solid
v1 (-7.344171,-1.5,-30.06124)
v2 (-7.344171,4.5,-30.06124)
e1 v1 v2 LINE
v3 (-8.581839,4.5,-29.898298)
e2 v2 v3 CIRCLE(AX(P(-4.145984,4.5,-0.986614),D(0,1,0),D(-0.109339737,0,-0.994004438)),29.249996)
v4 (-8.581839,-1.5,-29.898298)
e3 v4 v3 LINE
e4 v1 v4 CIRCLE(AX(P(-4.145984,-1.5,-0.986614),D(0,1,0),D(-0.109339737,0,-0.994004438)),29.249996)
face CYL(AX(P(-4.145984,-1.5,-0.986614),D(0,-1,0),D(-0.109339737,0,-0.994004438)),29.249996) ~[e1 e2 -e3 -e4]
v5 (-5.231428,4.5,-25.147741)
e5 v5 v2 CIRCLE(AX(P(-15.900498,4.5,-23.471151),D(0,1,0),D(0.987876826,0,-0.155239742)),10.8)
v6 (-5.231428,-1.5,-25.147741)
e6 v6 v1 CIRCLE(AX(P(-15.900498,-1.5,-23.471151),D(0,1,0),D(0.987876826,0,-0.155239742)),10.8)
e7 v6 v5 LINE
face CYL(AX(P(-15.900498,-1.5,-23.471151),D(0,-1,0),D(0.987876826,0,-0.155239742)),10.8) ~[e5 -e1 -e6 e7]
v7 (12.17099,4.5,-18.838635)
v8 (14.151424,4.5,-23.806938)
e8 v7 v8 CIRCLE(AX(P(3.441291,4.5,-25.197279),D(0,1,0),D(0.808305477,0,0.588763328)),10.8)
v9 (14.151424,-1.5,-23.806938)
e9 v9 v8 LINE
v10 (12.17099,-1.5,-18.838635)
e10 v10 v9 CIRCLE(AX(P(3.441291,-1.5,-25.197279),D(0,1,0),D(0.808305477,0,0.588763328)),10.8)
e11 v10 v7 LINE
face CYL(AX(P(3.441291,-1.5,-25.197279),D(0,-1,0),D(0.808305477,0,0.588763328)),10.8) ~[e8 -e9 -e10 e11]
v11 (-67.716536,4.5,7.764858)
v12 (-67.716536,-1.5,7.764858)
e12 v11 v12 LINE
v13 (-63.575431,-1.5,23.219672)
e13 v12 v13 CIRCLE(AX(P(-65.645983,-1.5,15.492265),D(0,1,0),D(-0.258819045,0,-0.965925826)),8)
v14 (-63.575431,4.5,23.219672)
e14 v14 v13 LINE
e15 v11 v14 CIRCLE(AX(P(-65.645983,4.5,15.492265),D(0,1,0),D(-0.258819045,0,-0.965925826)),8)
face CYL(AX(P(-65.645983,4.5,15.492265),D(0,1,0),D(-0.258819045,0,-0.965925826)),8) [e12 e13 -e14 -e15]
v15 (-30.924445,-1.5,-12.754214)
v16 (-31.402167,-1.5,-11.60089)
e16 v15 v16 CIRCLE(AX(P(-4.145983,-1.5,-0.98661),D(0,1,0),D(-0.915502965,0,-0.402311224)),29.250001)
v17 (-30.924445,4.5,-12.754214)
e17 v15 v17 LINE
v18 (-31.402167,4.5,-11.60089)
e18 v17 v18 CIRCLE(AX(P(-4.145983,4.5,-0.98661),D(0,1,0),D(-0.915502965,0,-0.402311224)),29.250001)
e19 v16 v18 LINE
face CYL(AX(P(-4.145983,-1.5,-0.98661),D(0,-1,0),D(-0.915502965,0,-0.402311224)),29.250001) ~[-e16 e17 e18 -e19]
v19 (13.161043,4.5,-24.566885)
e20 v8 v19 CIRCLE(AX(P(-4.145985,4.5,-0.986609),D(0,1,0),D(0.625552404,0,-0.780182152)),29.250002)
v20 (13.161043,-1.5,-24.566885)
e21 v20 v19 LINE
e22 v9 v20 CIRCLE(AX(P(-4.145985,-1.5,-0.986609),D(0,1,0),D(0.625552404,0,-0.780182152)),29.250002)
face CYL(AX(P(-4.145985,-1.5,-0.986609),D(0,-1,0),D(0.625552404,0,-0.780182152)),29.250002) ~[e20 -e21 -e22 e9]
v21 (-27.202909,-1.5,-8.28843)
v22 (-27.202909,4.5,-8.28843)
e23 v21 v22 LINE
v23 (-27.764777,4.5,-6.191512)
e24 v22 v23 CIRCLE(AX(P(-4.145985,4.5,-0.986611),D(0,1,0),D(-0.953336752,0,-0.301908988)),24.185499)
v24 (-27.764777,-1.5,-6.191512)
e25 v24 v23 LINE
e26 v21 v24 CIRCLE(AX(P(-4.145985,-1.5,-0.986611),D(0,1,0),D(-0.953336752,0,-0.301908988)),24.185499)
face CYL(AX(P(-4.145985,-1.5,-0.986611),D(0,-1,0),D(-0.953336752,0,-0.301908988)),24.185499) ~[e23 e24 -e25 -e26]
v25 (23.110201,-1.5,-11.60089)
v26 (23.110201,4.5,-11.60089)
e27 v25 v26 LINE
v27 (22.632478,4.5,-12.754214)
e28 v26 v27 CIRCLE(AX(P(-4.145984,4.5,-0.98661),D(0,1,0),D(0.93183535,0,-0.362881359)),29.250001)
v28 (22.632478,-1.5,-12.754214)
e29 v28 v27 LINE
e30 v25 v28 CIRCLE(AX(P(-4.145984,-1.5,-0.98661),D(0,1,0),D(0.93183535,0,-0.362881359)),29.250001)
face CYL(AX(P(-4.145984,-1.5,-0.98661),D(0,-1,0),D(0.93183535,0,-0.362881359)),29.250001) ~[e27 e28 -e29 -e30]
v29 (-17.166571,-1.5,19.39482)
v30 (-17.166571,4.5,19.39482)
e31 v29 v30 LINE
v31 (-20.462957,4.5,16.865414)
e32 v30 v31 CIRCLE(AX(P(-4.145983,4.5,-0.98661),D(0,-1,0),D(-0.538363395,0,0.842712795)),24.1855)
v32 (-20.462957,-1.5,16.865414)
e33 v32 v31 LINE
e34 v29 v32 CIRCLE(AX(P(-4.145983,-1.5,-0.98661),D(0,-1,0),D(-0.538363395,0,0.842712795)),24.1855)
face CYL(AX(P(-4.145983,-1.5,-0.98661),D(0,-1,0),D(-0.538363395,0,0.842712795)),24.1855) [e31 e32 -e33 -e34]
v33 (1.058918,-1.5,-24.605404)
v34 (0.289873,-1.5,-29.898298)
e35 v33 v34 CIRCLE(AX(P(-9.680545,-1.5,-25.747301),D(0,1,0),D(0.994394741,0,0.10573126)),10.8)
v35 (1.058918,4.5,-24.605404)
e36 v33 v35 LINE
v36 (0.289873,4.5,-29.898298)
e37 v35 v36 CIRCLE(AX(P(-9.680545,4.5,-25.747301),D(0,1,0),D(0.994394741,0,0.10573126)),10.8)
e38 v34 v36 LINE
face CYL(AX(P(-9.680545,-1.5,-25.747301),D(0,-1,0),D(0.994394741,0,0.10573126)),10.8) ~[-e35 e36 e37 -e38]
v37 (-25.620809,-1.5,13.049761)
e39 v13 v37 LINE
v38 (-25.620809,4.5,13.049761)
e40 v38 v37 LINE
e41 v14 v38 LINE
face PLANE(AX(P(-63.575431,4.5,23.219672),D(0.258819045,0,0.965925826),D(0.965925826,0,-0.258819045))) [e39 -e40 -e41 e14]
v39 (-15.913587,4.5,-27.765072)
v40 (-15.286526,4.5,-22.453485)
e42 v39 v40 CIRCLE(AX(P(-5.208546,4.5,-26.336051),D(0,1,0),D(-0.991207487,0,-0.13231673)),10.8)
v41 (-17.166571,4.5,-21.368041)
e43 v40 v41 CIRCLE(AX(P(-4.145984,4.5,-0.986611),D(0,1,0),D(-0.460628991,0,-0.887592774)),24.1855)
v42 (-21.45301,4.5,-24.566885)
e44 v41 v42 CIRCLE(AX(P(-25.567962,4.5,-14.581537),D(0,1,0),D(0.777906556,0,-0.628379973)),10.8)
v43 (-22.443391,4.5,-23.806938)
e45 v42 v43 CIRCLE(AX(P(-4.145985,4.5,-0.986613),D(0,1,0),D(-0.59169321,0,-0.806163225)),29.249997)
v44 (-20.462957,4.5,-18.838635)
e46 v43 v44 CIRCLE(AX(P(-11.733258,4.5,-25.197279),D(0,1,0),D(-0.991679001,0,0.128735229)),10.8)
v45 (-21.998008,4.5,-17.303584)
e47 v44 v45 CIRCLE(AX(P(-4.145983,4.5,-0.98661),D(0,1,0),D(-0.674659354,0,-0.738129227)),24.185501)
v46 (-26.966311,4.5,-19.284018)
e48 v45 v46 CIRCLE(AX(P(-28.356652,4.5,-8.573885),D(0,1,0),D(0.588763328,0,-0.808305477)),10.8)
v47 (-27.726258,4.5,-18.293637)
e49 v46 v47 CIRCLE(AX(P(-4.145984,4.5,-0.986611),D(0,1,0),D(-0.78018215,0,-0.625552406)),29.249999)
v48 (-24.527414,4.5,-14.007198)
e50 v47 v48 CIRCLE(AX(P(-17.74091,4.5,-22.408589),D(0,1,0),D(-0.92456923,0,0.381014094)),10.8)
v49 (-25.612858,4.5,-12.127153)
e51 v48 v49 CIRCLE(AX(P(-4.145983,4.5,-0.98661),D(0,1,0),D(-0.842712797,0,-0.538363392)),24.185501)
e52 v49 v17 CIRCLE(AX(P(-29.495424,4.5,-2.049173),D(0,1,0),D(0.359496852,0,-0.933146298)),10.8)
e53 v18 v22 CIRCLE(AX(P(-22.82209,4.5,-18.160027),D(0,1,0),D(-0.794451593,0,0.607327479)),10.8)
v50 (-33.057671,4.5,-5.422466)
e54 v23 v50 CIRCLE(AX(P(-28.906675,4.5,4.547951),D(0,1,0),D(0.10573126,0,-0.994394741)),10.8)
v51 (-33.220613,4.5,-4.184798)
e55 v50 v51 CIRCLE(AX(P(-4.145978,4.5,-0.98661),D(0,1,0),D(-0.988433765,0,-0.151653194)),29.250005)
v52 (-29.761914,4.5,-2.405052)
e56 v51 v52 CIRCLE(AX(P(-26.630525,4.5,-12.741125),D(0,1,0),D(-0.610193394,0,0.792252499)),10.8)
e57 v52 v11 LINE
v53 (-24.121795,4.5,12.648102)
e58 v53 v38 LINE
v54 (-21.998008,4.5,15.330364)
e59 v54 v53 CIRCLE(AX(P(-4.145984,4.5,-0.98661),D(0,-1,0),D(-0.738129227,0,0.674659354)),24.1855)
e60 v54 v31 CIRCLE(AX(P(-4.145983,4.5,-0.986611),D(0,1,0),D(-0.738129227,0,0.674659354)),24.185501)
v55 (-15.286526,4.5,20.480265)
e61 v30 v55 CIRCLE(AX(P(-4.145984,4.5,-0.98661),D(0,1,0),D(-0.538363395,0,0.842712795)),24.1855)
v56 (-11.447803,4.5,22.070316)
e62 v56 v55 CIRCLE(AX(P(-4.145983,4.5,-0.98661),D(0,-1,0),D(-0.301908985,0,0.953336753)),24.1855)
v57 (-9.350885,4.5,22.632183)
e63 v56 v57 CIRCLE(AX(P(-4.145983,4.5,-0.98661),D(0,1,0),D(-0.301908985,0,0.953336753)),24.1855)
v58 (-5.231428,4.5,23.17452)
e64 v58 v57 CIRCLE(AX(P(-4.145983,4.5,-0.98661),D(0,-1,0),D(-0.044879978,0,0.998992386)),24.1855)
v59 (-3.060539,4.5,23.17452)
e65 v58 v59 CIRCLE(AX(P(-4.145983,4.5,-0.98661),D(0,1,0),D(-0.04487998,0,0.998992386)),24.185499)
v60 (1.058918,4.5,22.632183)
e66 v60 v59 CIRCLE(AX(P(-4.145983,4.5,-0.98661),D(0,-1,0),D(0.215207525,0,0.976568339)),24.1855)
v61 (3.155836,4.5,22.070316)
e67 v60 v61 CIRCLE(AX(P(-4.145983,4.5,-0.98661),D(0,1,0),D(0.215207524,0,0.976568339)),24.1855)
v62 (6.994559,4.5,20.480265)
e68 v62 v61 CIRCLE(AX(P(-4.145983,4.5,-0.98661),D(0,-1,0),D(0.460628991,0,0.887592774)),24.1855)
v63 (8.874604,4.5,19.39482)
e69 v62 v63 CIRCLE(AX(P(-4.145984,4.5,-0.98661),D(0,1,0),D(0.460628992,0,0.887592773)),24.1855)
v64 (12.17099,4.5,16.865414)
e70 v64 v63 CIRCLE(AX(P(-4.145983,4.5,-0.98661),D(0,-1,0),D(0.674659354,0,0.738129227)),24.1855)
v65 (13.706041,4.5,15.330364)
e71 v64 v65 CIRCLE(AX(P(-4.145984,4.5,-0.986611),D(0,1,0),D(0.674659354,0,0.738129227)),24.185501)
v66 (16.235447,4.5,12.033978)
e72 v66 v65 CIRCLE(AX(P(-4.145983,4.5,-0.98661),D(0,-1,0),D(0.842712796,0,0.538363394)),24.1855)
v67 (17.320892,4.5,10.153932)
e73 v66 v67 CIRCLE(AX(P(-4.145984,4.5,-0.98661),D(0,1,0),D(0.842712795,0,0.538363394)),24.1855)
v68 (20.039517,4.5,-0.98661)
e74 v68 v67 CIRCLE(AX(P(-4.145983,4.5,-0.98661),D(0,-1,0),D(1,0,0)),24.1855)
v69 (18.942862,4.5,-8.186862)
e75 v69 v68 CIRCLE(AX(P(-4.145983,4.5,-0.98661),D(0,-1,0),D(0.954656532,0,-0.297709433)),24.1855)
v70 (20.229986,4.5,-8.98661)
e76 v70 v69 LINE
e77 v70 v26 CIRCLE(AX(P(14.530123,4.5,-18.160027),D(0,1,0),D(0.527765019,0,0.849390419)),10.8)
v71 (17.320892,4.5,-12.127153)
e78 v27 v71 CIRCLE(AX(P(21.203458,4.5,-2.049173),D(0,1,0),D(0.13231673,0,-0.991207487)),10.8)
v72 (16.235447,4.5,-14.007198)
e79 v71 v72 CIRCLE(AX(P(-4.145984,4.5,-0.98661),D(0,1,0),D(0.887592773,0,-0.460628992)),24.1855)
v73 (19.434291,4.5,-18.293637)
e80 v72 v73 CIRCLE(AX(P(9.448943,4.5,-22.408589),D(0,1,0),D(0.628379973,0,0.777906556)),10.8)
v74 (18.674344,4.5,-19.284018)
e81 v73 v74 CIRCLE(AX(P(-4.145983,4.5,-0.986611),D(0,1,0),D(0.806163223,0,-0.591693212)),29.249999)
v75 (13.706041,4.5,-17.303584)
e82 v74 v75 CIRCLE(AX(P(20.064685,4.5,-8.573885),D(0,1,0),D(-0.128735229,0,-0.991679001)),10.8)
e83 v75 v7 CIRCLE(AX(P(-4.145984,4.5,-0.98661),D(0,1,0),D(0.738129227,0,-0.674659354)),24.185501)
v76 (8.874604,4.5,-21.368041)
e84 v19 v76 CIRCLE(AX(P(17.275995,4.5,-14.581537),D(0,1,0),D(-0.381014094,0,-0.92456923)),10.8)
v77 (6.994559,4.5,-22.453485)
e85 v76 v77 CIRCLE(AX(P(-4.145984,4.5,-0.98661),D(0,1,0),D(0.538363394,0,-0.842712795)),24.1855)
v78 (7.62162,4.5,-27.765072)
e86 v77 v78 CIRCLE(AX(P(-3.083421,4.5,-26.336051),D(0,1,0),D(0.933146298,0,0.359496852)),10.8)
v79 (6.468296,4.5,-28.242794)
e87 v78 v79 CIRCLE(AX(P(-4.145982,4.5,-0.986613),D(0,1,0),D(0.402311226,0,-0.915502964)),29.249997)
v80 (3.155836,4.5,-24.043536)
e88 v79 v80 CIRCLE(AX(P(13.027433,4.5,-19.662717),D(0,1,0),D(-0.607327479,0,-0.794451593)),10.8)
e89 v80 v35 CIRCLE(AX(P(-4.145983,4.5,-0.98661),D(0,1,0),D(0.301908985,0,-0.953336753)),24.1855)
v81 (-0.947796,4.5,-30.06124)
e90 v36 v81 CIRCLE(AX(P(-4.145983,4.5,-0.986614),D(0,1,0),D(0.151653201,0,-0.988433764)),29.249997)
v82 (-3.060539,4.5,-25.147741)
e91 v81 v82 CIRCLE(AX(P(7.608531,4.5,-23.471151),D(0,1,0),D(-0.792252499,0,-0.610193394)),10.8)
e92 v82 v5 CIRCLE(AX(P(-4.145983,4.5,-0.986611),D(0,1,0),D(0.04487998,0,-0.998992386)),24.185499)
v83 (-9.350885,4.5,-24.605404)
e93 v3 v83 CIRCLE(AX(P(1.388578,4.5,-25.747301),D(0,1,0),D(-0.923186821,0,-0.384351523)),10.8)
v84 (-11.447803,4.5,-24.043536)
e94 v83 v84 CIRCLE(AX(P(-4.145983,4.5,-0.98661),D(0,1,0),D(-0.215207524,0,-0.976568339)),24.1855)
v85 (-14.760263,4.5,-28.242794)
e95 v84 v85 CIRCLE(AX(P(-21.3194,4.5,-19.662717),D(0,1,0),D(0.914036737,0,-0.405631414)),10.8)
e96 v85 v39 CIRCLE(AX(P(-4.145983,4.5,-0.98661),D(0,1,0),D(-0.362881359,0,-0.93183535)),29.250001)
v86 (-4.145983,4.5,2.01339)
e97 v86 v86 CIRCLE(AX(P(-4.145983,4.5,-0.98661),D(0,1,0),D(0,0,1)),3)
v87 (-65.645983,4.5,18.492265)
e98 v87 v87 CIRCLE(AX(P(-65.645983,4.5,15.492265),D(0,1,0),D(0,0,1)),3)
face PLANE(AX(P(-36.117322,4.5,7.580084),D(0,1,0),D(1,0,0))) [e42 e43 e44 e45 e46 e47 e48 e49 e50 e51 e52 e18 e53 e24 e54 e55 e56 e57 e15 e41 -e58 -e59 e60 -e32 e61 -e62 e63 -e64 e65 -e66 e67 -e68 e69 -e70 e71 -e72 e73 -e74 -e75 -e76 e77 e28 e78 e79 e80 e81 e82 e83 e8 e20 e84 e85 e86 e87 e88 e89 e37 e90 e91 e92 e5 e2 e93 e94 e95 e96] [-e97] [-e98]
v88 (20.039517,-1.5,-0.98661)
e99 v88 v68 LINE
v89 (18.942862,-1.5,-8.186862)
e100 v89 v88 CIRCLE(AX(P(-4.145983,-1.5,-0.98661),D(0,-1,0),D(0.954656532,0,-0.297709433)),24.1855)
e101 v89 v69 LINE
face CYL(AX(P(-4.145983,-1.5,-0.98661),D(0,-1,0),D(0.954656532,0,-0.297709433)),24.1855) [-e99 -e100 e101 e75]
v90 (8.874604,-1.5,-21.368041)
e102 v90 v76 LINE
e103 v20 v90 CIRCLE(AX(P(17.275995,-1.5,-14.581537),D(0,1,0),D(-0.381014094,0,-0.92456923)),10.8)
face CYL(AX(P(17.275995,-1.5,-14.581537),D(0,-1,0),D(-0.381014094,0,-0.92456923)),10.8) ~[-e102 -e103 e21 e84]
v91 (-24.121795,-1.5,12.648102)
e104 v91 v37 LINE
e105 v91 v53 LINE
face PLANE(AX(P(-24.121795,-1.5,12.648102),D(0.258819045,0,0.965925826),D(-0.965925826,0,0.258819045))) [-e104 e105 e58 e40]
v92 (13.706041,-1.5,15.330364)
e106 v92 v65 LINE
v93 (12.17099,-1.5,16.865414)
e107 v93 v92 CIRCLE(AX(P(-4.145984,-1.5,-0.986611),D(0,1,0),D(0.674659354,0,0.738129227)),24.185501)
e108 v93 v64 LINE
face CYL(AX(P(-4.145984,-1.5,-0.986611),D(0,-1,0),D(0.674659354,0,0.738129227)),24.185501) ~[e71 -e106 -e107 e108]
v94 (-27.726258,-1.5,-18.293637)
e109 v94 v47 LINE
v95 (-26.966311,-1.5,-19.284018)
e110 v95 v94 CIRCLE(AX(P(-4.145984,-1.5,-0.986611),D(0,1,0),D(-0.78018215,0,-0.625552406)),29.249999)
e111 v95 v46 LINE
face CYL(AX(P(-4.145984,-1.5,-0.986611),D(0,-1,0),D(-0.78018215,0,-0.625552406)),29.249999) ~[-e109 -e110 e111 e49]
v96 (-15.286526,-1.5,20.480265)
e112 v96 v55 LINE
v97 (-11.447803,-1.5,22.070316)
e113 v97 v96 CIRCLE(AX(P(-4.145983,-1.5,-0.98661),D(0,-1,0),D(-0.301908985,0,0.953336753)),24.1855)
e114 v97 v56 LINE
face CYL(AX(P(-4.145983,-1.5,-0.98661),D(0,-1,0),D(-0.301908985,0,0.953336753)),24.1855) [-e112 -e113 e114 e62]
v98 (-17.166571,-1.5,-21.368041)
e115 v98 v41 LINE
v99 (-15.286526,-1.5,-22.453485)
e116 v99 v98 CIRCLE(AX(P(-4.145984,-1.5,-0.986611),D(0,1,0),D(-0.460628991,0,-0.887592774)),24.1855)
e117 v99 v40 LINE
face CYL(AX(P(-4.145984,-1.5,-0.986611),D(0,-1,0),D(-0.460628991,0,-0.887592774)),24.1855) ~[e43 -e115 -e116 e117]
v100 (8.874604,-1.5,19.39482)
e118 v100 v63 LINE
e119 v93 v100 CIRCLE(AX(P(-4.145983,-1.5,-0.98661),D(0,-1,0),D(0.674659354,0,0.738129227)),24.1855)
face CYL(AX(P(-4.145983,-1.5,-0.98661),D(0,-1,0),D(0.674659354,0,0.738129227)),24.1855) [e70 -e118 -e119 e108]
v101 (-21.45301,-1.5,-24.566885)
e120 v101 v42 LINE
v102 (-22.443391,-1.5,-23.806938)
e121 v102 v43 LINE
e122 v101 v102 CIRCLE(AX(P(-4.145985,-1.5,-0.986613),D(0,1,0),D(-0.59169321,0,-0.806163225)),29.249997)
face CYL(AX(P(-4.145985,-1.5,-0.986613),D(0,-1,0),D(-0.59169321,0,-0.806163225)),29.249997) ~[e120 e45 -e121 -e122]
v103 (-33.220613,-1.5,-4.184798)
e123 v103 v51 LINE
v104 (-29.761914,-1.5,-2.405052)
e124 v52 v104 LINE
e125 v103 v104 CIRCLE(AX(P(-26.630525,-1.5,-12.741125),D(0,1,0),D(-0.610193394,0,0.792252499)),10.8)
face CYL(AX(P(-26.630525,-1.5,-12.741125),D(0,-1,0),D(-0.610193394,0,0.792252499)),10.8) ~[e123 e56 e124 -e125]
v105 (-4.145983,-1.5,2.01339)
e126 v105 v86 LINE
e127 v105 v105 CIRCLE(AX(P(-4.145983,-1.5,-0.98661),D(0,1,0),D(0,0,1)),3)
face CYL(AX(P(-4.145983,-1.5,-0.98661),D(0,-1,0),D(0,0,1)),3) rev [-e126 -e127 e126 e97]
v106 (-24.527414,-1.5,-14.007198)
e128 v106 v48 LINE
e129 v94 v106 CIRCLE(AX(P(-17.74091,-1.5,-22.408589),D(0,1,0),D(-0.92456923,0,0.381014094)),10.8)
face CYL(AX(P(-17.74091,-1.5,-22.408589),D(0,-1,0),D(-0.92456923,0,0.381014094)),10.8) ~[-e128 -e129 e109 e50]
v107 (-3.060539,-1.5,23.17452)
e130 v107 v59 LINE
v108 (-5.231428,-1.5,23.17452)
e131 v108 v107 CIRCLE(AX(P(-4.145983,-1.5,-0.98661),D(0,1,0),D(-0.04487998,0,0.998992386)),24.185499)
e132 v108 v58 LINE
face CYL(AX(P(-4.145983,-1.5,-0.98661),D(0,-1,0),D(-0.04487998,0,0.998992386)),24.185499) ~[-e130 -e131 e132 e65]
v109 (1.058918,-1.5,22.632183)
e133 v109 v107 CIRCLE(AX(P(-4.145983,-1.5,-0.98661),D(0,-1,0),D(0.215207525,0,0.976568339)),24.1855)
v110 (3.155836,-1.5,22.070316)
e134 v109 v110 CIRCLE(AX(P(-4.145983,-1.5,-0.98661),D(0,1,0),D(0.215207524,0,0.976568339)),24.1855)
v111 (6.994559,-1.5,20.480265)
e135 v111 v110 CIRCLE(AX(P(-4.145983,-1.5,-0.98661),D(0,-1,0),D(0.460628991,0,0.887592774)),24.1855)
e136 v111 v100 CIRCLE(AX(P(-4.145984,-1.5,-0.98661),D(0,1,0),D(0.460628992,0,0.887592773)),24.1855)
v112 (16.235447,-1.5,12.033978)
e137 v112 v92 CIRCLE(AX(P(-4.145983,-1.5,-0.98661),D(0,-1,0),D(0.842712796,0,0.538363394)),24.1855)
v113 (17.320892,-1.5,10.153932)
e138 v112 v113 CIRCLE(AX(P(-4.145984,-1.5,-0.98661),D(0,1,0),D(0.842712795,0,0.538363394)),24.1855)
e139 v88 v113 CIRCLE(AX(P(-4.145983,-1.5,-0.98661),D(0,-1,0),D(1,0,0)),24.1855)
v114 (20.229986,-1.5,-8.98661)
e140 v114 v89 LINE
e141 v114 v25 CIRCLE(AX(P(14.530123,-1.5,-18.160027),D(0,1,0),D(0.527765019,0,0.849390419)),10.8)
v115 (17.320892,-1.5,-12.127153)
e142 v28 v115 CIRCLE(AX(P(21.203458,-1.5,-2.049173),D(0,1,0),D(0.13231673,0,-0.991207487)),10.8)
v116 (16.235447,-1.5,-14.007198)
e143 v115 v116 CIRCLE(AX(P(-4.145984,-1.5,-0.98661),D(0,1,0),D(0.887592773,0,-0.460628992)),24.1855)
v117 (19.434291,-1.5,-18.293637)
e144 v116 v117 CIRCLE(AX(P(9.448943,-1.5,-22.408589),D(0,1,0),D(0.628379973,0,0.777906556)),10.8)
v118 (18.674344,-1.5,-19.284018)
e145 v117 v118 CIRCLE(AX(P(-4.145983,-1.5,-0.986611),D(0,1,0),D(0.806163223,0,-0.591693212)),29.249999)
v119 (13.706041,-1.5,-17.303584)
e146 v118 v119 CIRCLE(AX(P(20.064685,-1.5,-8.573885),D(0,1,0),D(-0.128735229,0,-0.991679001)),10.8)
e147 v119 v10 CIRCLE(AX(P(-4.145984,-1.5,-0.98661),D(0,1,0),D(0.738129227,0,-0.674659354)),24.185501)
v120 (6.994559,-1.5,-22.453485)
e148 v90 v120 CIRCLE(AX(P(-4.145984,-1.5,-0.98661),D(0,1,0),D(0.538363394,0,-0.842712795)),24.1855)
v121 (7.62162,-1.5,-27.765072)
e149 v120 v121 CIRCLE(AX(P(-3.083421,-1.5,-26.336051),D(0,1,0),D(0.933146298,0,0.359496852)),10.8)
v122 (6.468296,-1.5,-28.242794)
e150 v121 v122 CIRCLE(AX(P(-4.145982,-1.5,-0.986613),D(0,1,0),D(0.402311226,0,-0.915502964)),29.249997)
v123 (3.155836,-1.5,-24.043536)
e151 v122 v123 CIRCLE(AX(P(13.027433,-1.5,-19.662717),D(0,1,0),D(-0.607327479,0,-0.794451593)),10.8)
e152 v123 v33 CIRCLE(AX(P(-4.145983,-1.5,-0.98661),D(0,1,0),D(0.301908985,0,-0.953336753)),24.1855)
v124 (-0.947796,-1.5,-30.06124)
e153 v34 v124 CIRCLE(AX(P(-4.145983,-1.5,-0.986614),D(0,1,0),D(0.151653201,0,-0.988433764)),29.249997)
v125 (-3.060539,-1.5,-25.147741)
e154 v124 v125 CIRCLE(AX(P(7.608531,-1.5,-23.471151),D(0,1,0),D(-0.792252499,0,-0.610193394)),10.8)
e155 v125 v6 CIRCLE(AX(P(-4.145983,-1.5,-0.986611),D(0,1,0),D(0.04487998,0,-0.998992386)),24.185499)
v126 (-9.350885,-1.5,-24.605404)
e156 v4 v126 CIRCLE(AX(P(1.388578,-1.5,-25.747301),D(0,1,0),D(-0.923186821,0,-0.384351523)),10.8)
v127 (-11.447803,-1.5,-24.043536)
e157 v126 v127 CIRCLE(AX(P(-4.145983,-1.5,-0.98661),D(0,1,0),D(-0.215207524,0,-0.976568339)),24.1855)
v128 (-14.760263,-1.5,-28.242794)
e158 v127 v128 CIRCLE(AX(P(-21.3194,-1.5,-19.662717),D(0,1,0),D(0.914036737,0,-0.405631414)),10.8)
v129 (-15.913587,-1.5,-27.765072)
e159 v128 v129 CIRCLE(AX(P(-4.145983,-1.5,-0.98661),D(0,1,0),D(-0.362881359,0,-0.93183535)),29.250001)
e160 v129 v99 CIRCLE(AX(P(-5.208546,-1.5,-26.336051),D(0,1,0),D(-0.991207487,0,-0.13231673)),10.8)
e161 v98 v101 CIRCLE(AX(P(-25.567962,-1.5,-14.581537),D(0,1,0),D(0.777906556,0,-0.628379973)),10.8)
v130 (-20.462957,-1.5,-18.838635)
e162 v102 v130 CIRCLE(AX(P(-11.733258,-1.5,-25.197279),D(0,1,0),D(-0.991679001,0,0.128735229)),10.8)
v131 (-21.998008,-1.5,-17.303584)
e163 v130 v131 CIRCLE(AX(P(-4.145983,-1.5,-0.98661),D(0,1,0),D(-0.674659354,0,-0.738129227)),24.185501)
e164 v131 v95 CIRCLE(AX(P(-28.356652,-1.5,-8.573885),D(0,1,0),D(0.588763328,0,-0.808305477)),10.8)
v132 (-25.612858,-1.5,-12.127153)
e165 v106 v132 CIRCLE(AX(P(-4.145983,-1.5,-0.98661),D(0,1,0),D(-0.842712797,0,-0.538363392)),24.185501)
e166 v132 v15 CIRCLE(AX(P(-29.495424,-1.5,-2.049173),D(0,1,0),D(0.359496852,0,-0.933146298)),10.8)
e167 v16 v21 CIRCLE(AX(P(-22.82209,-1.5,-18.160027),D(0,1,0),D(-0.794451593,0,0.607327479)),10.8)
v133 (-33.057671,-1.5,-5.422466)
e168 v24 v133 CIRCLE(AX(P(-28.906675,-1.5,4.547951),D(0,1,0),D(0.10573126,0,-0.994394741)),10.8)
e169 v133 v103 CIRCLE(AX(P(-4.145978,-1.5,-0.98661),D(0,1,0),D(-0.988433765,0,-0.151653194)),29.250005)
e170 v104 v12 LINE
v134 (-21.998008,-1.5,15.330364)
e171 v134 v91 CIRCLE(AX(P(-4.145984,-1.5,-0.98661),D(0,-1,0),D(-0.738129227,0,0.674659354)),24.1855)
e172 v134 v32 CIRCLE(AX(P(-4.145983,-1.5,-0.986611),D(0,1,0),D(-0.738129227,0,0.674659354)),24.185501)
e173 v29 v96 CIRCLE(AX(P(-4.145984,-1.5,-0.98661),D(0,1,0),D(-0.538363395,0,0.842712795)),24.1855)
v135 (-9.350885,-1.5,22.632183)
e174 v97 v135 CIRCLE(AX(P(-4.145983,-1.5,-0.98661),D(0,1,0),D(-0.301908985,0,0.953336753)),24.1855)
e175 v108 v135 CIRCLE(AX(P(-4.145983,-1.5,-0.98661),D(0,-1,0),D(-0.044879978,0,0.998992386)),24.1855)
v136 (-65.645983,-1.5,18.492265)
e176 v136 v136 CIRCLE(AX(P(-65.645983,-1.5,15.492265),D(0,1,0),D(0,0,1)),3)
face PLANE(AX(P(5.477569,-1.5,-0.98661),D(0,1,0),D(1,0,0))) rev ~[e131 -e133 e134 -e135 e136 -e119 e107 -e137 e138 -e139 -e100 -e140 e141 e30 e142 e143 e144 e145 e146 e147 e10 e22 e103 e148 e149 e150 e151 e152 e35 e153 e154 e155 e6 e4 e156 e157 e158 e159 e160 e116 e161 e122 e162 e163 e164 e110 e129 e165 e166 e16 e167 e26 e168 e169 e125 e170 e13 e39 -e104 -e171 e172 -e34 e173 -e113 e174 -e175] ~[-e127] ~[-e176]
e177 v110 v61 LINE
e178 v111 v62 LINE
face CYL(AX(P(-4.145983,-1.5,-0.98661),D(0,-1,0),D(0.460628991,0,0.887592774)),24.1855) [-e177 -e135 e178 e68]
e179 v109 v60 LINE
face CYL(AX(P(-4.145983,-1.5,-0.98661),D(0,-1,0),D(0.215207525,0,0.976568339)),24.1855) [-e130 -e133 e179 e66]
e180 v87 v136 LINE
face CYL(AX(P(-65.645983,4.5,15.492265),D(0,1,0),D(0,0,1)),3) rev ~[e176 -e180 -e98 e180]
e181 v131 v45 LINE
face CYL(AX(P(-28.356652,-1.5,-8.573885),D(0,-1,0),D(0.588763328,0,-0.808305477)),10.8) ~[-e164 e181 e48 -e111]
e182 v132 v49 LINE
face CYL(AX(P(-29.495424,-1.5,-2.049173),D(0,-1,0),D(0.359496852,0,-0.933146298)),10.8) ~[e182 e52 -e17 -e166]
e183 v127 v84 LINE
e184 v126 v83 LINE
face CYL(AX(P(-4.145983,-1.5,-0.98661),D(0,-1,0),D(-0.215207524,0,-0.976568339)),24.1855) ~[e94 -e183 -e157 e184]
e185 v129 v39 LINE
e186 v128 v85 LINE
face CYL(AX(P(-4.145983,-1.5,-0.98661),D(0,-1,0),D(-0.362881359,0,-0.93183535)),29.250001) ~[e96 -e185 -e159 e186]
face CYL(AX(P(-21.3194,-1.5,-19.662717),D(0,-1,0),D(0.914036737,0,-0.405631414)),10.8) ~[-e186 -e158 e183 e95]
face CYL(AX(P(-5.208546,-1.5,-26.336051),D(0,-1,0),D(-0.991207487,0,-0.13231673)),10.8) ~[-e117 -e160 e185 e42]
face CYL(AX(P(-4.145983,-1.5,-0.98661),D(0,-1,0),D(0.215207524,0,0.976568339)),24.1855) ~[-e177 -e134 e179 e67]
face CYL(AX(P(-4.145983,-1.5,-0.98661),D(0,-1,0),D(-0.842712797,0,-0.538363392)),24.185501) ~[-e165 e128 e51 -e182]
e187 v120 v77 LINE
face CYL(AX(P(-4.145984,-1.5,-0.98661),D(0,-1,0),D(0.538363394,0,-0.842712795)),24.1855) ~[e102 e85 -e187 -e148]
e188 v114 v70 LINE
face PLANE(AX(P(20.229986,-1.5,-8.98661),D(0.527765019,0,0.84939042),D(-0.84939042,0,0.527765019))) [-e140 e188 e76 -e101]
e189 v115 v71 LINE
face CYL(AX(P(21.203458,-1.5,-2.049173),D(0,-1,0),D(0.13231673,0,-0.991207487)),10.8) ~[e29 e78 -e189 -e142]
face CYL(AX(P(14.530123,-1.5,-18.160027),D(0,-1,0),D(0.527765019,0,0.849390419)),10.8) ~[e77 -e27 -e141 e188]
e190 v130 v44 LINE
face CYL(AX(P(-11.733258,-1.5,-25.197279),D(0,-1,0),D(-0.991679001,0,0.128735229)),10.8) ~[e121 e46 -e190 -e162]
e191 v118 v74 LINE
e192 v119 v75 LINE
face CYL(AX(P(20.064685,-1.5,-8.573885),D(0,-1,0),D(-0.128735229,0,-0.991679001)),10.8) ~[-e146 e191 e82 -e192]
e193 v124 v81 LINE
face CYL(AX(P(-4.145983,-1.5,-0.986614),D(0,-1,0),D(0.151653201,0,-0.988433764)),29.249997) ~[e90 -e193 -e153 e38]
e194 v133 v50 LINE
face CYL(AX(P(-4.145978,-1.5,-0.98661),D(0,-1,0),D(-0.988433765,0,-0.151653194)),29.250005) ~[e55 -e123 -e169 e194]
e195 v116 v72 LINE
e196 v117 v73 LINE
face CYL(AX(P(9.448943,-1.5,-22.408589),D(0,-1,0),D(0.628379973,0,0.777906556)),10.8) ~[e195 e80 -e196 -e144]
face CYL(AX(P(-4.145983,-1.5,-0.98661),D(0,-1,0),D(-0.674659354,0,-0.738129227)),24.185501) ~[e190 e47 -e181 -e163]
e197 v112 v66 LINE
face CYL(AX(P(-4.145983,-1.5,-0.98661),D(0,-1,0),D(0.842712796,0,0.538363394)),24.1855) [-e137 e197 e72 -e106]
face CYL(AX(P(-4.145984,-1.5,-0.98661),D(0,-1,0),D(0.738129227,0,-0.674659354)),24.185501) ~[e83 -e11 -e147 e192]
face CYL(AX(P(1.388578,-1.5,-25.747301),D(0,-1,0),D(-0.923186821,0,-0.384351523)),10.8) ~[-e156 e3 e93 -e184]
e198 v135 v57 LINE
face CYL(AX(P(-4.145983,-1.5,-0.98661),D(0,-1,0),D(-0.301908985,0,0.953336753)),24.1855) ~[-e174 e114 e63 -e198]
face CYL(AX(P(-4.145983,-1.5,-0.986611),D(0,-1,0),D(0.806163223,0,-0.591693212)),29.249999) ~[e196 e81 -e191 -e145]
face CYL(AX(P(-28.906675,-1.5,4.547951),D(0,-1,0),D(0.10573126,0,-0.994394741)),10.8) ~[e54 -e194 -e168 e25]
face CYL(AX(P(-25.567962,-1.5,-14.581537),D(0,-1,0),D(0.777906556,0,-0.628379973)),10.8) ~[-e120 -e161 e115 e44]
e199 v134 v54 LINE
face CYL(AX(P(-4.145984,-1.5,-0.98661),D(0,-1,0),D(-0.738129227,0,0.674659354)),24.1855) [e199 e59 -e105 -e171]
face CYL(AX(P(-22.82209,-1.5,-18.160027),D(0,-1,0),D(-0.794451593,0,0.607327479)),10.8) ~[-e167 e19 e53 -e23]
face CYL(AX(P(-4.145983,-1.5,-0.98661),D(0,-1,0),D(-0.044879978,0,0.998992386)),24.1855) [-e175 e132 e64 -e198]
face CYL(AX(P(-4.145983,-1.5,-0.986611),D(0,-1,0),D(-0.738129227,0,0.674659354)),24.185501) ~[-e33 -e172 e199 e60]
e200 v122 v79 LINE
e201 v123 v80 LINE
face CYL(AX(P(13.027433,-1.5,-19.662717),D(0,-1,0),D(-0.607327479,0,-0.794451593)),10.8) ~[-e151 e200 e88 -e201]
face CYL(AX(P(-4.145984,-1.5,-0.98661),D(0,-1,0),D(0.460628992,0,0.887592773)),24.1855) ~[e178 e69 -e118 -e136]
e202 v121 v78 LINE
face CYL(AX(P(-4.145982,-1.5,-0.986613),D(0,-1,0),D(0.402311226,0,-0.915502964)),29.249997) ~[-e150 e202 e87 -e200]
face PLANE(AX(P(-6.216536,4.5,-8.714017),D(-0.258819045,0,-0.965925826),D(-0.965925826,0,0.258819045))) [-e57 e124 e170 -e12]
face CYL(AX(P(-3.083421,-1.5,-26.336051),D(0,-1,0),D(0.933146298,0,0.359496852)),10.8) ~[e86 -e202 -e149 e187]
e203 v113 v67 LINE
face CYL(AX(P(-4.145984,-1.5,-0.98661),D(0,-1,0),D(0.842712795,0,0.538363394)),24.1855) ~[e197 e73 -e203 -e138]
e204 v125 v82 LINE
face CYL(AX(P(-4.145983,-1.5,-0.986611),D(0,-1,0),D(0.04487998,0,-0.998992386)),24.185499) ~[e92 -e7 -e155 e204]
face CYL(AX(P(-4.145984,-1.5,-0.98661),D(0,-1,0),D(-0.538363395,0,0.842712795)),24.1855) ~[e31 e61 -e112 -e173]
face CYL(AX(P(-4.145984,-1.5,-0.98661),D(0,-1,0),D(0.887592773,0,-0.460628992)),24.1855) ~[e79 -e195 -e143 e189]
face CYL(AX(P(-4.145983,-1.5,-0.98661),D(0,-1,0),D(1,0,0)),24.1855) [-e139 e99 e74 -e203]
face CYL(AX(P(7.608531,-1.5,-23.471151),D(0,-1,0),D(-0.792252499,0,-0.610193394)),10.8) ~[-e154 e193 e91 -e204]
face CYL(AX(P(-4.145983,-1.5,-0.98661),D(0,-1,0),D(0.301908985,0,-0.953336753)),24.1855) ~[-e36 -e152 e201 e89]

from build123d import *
from build123d.topology import SkipClean

# Parameters (mm, degrees)
SKETCH1_R           = 1.5
BOSS_EXTRUDE1_DEPTH = 3
SKETCH3_R           = 1.5
BOSS_EXTRUDE2_DEPTH = 3
CUT_EXTRUDE1_START  = -3
CUT_EXTRUDE1_DEPTH  = 3
SCALE1_SCALE        = 2


with BuildPart() as part:
    # Sketch1 → Boss-Extrude1 (new body)
    with BuildSketch(Plane(origin=(0, 0, 0), x_dir=(1, 0, 0), z_dir=(0, 1, 0))):
        with BuildLine():
            Line((20.643657446, 4), (2.081641936, 4))
            ThreePointArc((2.081641936, 4), (2.861028333, 4.588201733), (3.521749436, 5.30713988))
            ThreePointArc((3.521749436, 5.30713988), (3.405395609, 5.596745198), (3.282888305, 5.883801663))
            ThreePointArc((3.282888305, 5.883801663), (1.93527598, 5.894040025), (0.627094961, 5.57027124))
            ThreePointArc((0.627094961, 5.57027124), (0.366286148, 6.046375), (0.084372603, 6.510293938))
            ThreePointArc((0.084372603, 6.510293938), (1.018855105, 7.48132754), (1.683794586, 8.65351323))
            ThreePointArc((1.683794586, 8.65351323), (1.496450048, 8.903135899), (1.303821399, 9.148703928))
            ThreePointArc((1.303821399, 9.148703928), (-0.000522033, 8.809805691), (-1.180330337, 8.158486898))
            ThreePointArc((-1.180330337, 8.158486898), (-1.555477026, 8.550865528), (-1.947855656, 8.926012217))
            ThreePointArc((-1.947855656, 8.926012217), (-1.296536862, 10.105820521), (-0.957638625, 11.410163953))
            ThreePointArc((-0.957638625, 11.410163953), (-1.203206655, 11.602792602), (-1.452829324, 11.79013714))
            ThreePointArc((-1.452829324, 11.79013714), (-2.625015014, 11.125197659), (-3.596048616, 10.190715157))
            ThreePointArc((-3.596048616, 10.190715157), (-4.059967554, 10.472628702), (-4.536071314, 10.733437515))
            ThreePointArc((-4.536071314, 10.733437515), (-4.212302529, 12.041618533), (-4.222540891, 13.389230859))
            ThreePointArc((-4.222540891, 13.389230859), (-4.509597355, 13.511738163), (-4.799202674, 13.62809199))
            ThreePointArc((-4.799202674, 13.62809199), (-5.759348103, 12.682425791), (-6.455432668, 11.528463019))
            ThreePointArc((-6.455432668, 11.528463019), (-6.976508546, 11.680699536), (-7.503891752, 11.809396783))
            ThreePointArc((-7.503891752, 11.809396783), (-7.529737283, 13.156800143), (-7.888414517, 14.455843809))
            ThreePointArc((-7.888414517, 14.455843809), (-8.197396993, 14.499881098), (-8.507248835, 14.537314892))
            ThreePointArc((-8.507248835, 14.537314892), (-9.18992168, 13.375367565), (-9.563620196, 12.080565177))
            ThreePointArc((-9.563620196, 12.080565177), (-10.106342554, 12.09275), (-10.649064912, 12.080565177))
            ThreePointArc((-10.649064912, 12.080565177), (-11.022763428, 13.375367565), (-11.705436272, 14.537314892))
            ThreePointArc((-11.705436272, 14.537314892), (-12.015288115, 14.499881098), (-12.324270591, 14.455843809))
            ThreePointArc((-12.324270591, 14.455843809), (-12.682947825, 13.156800143), (-12.708793355, 11.809396783))
            ThreePointArc((-12.708793355, 11.809396783), (-13.236176561, 11.680699536), (-13.757252439, 11.528463019))
            ThreePointArc((-13.757252439, 11.528463019), (-14.453337005, 12.682425791), (-15.413482434, 13.62809199))
            ThreePointArc((-15.413482434, 13.62809199), (-15.703087752, 13.511738163), (-15.990144217, 13.389230859))
            ThreePointArc((-15.990144217, 13.389230859), (-16.000382579, 12.041618533), (-15.676613793, 10.733437515))
            ThreePointArc((-15.676613793, 10.733437515), (-16.152717554, 10.472628702), (-16.616636492, 10.190715157))
            ThreePointArc((-16.616636492, 10.190715157), (-17.587670094, 11.125197659), (-18.759855783, 11.79013714))
            ThreePointArc((-18.759855783, 11.79013714), (-19.009478453, 11.602792602), (-19.255046482, 11.410163953))
            ThreePointArc((-19.255046482, 11.410163953), (-18.916148245, 10.105820521), (-18.264829452, 8.926012217))
            ThreePointArc((-18.264829452, 8.926012217), (-18.657208082, 8.550865528), (-19.032354771, 8.158486898))
            ThreePointArc((-19.032354771, 8.158486898), (-20.212163074, 8.809805691), (-21.516506507, 9.148703928))
            ThreePointArc((-21.516506507, 9.148703928), (-21.709135156, 8.903135899), (-21.896479694, 8.65351323))
            ThreePointArc((-21.896479694, 8.65351323), (-21.231540213, 7.48132754), (-20.297057711, 6.510293938))
            ThreePointArc((-20.297057711, 6.510293938), (-20.578971255, 6.046375), (-20.839780068, 5.57027124))
            ThreePointArc((-20.839780068, 5.57027124), (-22.147961087, 5.894040025), (-23.495573413, 5.883801663))
            ThreePointArc((-23.495573413, 5.883801663), (-23.618080717, 5.596745198), (-23.734434544, 5.30713988))
            ThreePointArc((-23.734434544, 5.30713988), (-22.788768345, 4.346994451), (-21.634805572, 3.650909885))
            ThreePointArc((-21.634805572, 3.650909885), (-21.78704209, 3.129834008), (-21.915739337, 2.602450802))
            ThreePointArc((-21.915739337, 2.602450802), (-23.263142697, 2.576605271), (-24.562186363, 2.217928037))
            ThreePointArc((-24.562186363, 2.217928037), (-24.606223651, 1.908945561), (-24.643657446, 1.599093719))
            ThreePointArc((-24.643657446, 1.599093719), (-23.481710119, 0.916420874), (-22.186907731, 0.542722358))
            ThreePointArc((-22.186907731, 0.542722358), (-22.199092554, 0), (-22.186907731, -0.542722358))
            ThreePointArc((-22.186907731, -0.542722358), (-23.481710119, -0.916420874), (-24.643657446, -1.599093719))
            ThreePointArc((-24.643657446, -1.599093719), (-24.606223651, -1.908945561), (-24.562186363, -2.217928037))
            ThreePointArc((-24.562186363, -2.217928037), (-23.263142697, -2.576605271), (-21.915739337, -2.602450802))
            ThreePointArc((-21.915739337, -2.602450802), (-21.78704209, -3.129834008), (-21.634805572, -3.650909885))
            ThreePointArc((-21.634805572, -3.650909885), (-22.788768345, -4.346994451), (-23.734434544, -5.30713988))
            ThreePointArc((-23.734434544, -5.30713988), (-23.618080717, -5.596745198), (-23.495573413, -5.883801663))
            ThreePointArc((-23.495573413, -5.883801663), (-22.147961087, -5.894040025), (-20.839780068, -5.57027124))
            ThreePointArc((-20.839780068, -5.57027124), (-20.578971255, -6.046375), (-20.297057711, -6.510293938))
            ThreePointArc((-20.297057711, -6.510293938), (-21.231540213, -7.48132754), (-21.896479694, -8.65351323))
            ThreePointArc((-21.896479694, -8.65351323), (-21.709135156, -8.903135899), (-21.516506507, -9.148703928))
            ThreePointArc((-21.516506507, -9.148703928), (-20.212163074, -8.809805691), (-19.032354771, -8.158486898))
            ThreePointArc((-19.032354771, -8.158486898), (-18.657208082, -8.550865528), (-18.264829452, -8.926012217))
            ThreePointArc((-18.264829452, -8.926012217), (-18.916148245, -10.105820521), (-19.255046482, -11.410163953))
            ThreePointArc((-19.255046482, -11.410163953), (-19.009478453, -11.602792602), (-18.759855783, -11.79013714))
            ThreePointArc((-18.759855783, -11.79013714), (-17.587670094, -11.125197659), (-16.616636492, -10.190715157))
            ThreePointArc((-16.616636492, -10.190715157), (-16.152717554, -10.472628702), (-15.676613793, -10.733437515))
            ThreePointArc((-15.676613793, -10.733437515), (-16.000382579, -12.041618533), (-15.990144217, -13.389230859))
            ThreePointArc((-15.990144217, -13.389230859), (-15.703087752, -13.511738163), (-15.413482434, -13.62809199))
            ThreePointArc((-15.413482434, -13.62809199), (-14.453337005, -12.682425791), (-13.757252439, -11.528463019))
            ThreePointArc((-13.757252439, -11.528463019), (-13.236176561, -11.680699536), (-12.708793355, -11.809396783))
            ThreePointArc((-12.708793355, -11.809396783), (-12.682947825, -13.156800143), (-12.324270591, -14.455843809))
            ThreePointArc((-12.324270591, -14.455843809), (-12.015288115, -14.499881098), (-11.705436272, -14.537314892))
            ThreePointArc((-11.705436272, -14.537314892), (-11.022763428, -13.375367565), (-10.649064912, -12.080565177))
            ThreePointArc((-10.649064912, -12.080565177), (-10.106342554, -12.09275), (-9.563620196, -12.080565177))
            ThreePointArc((-9.563620196, -12.080565177), (-9.18992168, -13.375367565), (-8.507248835, -14.537314892))
            ThreePointArc((-8.507248835, -14.537314892), (-8.197396993, -14.499881098), (-7.888414517, -14.455843809))
            ThreePointArc((-7.888414517, -14.455843809), (-7.529737283, -13.156800143), (-7.503891752, -11.809396783))
            ThreePointArc((-7.503891752, -11.809396783), (-6.976508546, -11.680699536), (-6.455432668, -11.528463019))
            ThreePointArc((-6.455432668, -11.528463019), (-5.759348103, -12.682425791), (-4.799202674, -13.62809199))
            ThreePointArc((-4.799202674, -13.62809199), (-4.509597355, -13.511738163), (-4.222540891, -13.389230859))
            ThreePointArc((-4.222540891, -13.389230859), (-4.212302529, -12.041618533), (-4.536071314, -10.733437515))
            ThreePointArc((-4.536071314, -10.733437515), (-4.059967554, -10.472628702), (-3.596048616, -10.190715157))
            ThreePointArc((-3.596048616, -10.190715157), (-2.625015014, -11.125197659), (-1.452829324, -11.79013714))
            ThreePointArc((-1.452829324, -11.79013714), (-1.203206655, -11.602792602), (-0.957638625, -11.410163953))
            ThreePointArc((-0.957638625, -11.410163953), (-1.296536862, -10.105820521), (-1.947855656, -8.926012217))
            ThreePointArc((-1.947855656, -8.926012217), (-1.555477026, -8.550865528), (-1.180330337, -8.158486898))
            ThreePointArc((-1.180330337, -8.158486898), (-0.000522033, -8.809805691), (1.303821399, -9.148703928))
            ThreePointArc((1.303821399, -9.148703928), (1.496450048, -8.903135899), (1.683794586, -8.65351323))
            ThreePointArc((1.683794586, -8.65351323), (1.018855105, -7.48132754), (0.084372603, -6.510293938))
            ThreePointArc((0.084372603, -6.510293938), (0.366286148, -6.046375), (0.627094961, -5.57027124))
            ThreePointArc((0.627094961, -5.57027124), (1.93527598, -5.894040025), (3.282888305, -5.883801663))
            ThreePointArc((3.282888305, -5.883801663), (3.405395609, -5.596745198), (3.521749436, -5.30713988))
            ThreePointArc((3.521749436, -5.30713988), (2.861028333, -4.588201733), (2.081641936, -4))
            Line((2.081641936, -4), (20.643657446, -4))
            ThreePointArc((20.643657446, -4), (24.643657446, 0), (20.643657446, 4))
        make_face()
        with Locations(Location((-10.106342554, 0, 0), (0, 0, 270))):
            Circle(SKETCH1_R, mode=Mode.SUBTRACT)
        with Locations(Location((20.643657446, 0, 0), (0, 0, 270))):
            Circle(SKETCH1_R, mode=Mode.SUBTRACT)
    extrude(amount=BOSS_EXTRUDE1_DEPTH)

    # Sketch3 → Boss-Extrude2 (add)
    with BuildSketch(Plane(origin=(0, 3, 0), x_dir=(1, 0, 0), z_dir=(0, 1, 0))):
        with BuildLine():
            ThreePointArc((-9.071066373, -3.863703305), (-13.970045859, -1.03527618), (-11.141618734, 3.863703305))
            Line((-11.141618734, 3.863703305), (-41.891618734, -4.375734362))
            ThreePointArc((-41.891618734, -4.375734362), (-44.720045859, -9.274713848), (-39.821066373, -12.103140972))
            Line((-39.821066373, -12.103140972), (-9.071066373, -3.863703305))
        make_face()
        with Locations(Location((-40.856342554, -8.239437667, 0), (0, 0, 270))):
            Circle(SKETCH3_R, mode=Mode.SUBTRACT)
    extrude(amount=-BOSS_EXTRUDE2_DEPTH)

    # Sketch4 → Cut-Extrude1 (cut)
    with SkipClean():  # the faces are left unmerged after this step: merging them gives an invalid solid
        with BuildSketch(Plane(origin=(0, 3, 0), x_dir=(1, 0, 0), z_dir=(0, 1, 0)).offset(CUT_EXTRUDE1_START)):
            with BuildLine():
                ThreePointArc((-21.516506507, -9.148703928), (-20.212163074, -8.809805691), (-19.032354771, -8.158486898))
                ThreePointArc((-19.032354771, -8.158486898), (-19.58704562, -7.506721784), (-20.094248238, -6.817355984))
                Line((-20.094248238, -6.817355984), (-20.843755363, -7.018185813))
                ThreePointArc((-20.843755363, -7.018185813), (-21.444347002, -7.788065101), (-21.896479694, -8.65351323))
                ThreePointArc((-21.896479694, -8.65351323), (-21.709135156, -8.903135899), (-21.516506507, -9.148703928))
            make_face()
            with BuildLine():
                ThreePointArc((-18.759855783, -11.79013714), (-17.587670094, -11.125197659), (-16.616636492, -10.190715157))
                ThreePointArc((-16.616636492, -10.190715157), (-17.467942324, -9.593823606), (-18.264829452, -8.926012217))
                ThreePointArc((-18.264829452, -8.926012217), (-18.916148245, -10.105820521), (-19.255046482, -11.410163953))
                ThreePointArc((-19.255046482, -11.410163953), (-19.009478453, -11.602792602), (-18.759855783, -11.79013714))
            make_face()
            with BuildLine():
                ThreePointArc((-15.413482434, -13.62809199), (-14.453337005, -12.682425791), (-13.757252439, -11.528463019))
                ThreePointArc((-13.757252439, -11.528463019), (-14.734037631, -11.172244217), (-15.676613793, -10.733437515))
                ThreePointArc((-15.676613793, -10.733437515), (-16.000382579, -12.041618533), (-15.990144217, -13.389230859))
                ThreePointArc((-15.990144217, -13.389230859), (-15.703087752, -13.511738163), (-15.413482434, -13.62809199))
            make_face()
            with BuildLine():
                ThreePointArc((-11.705436272, -14.537314892), (-11.022763428, -13.375367565), (-10.649064912, -12.080565177))
                ThreePointArc((-10.649064912, -12.080565177), (-11.684763165, -11.989294847), (-12.708793355, -11.809396783))
                ThreePointArc((-12.708793355, -11.809396783), (-12.682947825, -13.156800143), (-12.324270591, -14.455843809))
                ThreePointArc((-12.324270591, -14.455843809), (-12.015288115, -14.499881098), (-11.705436272, -14.537314892))
            make_face()
            with BuildLine():
                ThreePointArc((-7.888414517, -14.455843809), (-7.529737283, -13.156800143), (-7.503891752, -11.809396783))
                ThreePointArc((-7.503891752, -11.809396783), (-8.527921943, -11.989294847), (-9.563620196, -12.080565177))
                ThreePointArc((-9.563620196, -12.080565177), (-9.18992168, -13.375367565), (-8.507248835, -14.537314892))
                ThreePointArc((-8.507248835, -14.537314892), (-8.197396993, -14.499881098), (-7.888414517, -14.455843809))
            make_face()
            with BuildLine():
                ThreePointArc((-4.222540891, -13.389230859), (-4.212302529, -12.041618533), (-4.536071314, -10.733437515))
                ThreePointArc((-4.536071314, -10.733437515), (-5.478647477, -11.172244217), (-6.455432668, -11.528463019))
                ThreePointArc((-6.455432668, -11.528463019), (-5.759348103, -12.682425791), (-4.799202674, -13.62809199))
                ThreePointArc((-4.799202674, -13.62809199), (-4.509597355, -13.511738163), (-4.222540891, -13.389230859))
            make_face()
            with BuildLine():
                ThreePointArc((-0.957638625, -11.410163953), (-1.296536862, -10.105820521), (-1.947855656, -8.926012217))
                ThreePointArc((-1.947855656, -8.926012217), (-2.744742783, -9.593823606), (-3.596048616, -10.190715157))
                ThreePointArc((-3.596048616, -10.190715157), (-2.625015014, -11.125197659), (-1.452829324, -11.79013714))
                ThreePointArc((-1.452829324, -11.79013714), (-1.203206655, -11.602792602), (-0.957638625, -11.410163953))
            make_face()
            with BuildLine():
                ThreePointArc((1.683794586, -8.65351323), (1.018855105, -7.48132754), (0.084372603, -6.510293938))
                ThreePointArc((0.084372603, -6.510293938), (-0.512518948, -7.361599771), (-1.180330337, -8.158486898))
                ThreePointArc((-1.180330337, -8.158486898), (-0.000522033, -8.809805691), (1.303821399, -9.148703928))
                ThreePointArc((1.303821399, -9.148703928), (1.496450048, -8.903135899), (1.683794586, -8.65351323))
            make_face()
            with BuildLine():
                ThreePointArc((20.643657446, -4), (24.643657446, 0), (20.643657446, 4))
                Line((20.643657446, 4), (2.081641936, 4))
                Line((2.081641936, 4), (1.43808022, 3.600125745))
                ThreePointArc((1.43808022, 3.600125745), (1.848539735, 1.820821801), (1.986407446, 0))
                ThreePointArc((1.986407446, 0), (1.641665343, -2.866864669), (0.627094961, -5.57027124))
                ThreePointArc((0.627094961, -5.57027124), (1.93527598, -5.894040025), (3.282888305, -5.883801663))
                ThreePointArc((3.282888305, -5.883801663), (3.405395609, -5.596745198), (3.521749436, -5.30713988))
                ThreePointArc((3.521749436, -5.30713988), (2.861028333, -4.588201733), (2.081641936, -4))
                Line((2.081641936, -4), (20.643657446, -4))
            make_face()
        extrude(amount=CUT_EXTRUDE1_DEPTH, mode=Mode.SUBTRACT)


with BuildPart() as part_1:
    # Scale1: scaled about (-16.0667017, 1.5, 0.986610276)
    add(part.part.scale(SCALE1_SCALE).moved(Location((16.0667017, -1.5, -0.986610276))))


solid = part_1.part
